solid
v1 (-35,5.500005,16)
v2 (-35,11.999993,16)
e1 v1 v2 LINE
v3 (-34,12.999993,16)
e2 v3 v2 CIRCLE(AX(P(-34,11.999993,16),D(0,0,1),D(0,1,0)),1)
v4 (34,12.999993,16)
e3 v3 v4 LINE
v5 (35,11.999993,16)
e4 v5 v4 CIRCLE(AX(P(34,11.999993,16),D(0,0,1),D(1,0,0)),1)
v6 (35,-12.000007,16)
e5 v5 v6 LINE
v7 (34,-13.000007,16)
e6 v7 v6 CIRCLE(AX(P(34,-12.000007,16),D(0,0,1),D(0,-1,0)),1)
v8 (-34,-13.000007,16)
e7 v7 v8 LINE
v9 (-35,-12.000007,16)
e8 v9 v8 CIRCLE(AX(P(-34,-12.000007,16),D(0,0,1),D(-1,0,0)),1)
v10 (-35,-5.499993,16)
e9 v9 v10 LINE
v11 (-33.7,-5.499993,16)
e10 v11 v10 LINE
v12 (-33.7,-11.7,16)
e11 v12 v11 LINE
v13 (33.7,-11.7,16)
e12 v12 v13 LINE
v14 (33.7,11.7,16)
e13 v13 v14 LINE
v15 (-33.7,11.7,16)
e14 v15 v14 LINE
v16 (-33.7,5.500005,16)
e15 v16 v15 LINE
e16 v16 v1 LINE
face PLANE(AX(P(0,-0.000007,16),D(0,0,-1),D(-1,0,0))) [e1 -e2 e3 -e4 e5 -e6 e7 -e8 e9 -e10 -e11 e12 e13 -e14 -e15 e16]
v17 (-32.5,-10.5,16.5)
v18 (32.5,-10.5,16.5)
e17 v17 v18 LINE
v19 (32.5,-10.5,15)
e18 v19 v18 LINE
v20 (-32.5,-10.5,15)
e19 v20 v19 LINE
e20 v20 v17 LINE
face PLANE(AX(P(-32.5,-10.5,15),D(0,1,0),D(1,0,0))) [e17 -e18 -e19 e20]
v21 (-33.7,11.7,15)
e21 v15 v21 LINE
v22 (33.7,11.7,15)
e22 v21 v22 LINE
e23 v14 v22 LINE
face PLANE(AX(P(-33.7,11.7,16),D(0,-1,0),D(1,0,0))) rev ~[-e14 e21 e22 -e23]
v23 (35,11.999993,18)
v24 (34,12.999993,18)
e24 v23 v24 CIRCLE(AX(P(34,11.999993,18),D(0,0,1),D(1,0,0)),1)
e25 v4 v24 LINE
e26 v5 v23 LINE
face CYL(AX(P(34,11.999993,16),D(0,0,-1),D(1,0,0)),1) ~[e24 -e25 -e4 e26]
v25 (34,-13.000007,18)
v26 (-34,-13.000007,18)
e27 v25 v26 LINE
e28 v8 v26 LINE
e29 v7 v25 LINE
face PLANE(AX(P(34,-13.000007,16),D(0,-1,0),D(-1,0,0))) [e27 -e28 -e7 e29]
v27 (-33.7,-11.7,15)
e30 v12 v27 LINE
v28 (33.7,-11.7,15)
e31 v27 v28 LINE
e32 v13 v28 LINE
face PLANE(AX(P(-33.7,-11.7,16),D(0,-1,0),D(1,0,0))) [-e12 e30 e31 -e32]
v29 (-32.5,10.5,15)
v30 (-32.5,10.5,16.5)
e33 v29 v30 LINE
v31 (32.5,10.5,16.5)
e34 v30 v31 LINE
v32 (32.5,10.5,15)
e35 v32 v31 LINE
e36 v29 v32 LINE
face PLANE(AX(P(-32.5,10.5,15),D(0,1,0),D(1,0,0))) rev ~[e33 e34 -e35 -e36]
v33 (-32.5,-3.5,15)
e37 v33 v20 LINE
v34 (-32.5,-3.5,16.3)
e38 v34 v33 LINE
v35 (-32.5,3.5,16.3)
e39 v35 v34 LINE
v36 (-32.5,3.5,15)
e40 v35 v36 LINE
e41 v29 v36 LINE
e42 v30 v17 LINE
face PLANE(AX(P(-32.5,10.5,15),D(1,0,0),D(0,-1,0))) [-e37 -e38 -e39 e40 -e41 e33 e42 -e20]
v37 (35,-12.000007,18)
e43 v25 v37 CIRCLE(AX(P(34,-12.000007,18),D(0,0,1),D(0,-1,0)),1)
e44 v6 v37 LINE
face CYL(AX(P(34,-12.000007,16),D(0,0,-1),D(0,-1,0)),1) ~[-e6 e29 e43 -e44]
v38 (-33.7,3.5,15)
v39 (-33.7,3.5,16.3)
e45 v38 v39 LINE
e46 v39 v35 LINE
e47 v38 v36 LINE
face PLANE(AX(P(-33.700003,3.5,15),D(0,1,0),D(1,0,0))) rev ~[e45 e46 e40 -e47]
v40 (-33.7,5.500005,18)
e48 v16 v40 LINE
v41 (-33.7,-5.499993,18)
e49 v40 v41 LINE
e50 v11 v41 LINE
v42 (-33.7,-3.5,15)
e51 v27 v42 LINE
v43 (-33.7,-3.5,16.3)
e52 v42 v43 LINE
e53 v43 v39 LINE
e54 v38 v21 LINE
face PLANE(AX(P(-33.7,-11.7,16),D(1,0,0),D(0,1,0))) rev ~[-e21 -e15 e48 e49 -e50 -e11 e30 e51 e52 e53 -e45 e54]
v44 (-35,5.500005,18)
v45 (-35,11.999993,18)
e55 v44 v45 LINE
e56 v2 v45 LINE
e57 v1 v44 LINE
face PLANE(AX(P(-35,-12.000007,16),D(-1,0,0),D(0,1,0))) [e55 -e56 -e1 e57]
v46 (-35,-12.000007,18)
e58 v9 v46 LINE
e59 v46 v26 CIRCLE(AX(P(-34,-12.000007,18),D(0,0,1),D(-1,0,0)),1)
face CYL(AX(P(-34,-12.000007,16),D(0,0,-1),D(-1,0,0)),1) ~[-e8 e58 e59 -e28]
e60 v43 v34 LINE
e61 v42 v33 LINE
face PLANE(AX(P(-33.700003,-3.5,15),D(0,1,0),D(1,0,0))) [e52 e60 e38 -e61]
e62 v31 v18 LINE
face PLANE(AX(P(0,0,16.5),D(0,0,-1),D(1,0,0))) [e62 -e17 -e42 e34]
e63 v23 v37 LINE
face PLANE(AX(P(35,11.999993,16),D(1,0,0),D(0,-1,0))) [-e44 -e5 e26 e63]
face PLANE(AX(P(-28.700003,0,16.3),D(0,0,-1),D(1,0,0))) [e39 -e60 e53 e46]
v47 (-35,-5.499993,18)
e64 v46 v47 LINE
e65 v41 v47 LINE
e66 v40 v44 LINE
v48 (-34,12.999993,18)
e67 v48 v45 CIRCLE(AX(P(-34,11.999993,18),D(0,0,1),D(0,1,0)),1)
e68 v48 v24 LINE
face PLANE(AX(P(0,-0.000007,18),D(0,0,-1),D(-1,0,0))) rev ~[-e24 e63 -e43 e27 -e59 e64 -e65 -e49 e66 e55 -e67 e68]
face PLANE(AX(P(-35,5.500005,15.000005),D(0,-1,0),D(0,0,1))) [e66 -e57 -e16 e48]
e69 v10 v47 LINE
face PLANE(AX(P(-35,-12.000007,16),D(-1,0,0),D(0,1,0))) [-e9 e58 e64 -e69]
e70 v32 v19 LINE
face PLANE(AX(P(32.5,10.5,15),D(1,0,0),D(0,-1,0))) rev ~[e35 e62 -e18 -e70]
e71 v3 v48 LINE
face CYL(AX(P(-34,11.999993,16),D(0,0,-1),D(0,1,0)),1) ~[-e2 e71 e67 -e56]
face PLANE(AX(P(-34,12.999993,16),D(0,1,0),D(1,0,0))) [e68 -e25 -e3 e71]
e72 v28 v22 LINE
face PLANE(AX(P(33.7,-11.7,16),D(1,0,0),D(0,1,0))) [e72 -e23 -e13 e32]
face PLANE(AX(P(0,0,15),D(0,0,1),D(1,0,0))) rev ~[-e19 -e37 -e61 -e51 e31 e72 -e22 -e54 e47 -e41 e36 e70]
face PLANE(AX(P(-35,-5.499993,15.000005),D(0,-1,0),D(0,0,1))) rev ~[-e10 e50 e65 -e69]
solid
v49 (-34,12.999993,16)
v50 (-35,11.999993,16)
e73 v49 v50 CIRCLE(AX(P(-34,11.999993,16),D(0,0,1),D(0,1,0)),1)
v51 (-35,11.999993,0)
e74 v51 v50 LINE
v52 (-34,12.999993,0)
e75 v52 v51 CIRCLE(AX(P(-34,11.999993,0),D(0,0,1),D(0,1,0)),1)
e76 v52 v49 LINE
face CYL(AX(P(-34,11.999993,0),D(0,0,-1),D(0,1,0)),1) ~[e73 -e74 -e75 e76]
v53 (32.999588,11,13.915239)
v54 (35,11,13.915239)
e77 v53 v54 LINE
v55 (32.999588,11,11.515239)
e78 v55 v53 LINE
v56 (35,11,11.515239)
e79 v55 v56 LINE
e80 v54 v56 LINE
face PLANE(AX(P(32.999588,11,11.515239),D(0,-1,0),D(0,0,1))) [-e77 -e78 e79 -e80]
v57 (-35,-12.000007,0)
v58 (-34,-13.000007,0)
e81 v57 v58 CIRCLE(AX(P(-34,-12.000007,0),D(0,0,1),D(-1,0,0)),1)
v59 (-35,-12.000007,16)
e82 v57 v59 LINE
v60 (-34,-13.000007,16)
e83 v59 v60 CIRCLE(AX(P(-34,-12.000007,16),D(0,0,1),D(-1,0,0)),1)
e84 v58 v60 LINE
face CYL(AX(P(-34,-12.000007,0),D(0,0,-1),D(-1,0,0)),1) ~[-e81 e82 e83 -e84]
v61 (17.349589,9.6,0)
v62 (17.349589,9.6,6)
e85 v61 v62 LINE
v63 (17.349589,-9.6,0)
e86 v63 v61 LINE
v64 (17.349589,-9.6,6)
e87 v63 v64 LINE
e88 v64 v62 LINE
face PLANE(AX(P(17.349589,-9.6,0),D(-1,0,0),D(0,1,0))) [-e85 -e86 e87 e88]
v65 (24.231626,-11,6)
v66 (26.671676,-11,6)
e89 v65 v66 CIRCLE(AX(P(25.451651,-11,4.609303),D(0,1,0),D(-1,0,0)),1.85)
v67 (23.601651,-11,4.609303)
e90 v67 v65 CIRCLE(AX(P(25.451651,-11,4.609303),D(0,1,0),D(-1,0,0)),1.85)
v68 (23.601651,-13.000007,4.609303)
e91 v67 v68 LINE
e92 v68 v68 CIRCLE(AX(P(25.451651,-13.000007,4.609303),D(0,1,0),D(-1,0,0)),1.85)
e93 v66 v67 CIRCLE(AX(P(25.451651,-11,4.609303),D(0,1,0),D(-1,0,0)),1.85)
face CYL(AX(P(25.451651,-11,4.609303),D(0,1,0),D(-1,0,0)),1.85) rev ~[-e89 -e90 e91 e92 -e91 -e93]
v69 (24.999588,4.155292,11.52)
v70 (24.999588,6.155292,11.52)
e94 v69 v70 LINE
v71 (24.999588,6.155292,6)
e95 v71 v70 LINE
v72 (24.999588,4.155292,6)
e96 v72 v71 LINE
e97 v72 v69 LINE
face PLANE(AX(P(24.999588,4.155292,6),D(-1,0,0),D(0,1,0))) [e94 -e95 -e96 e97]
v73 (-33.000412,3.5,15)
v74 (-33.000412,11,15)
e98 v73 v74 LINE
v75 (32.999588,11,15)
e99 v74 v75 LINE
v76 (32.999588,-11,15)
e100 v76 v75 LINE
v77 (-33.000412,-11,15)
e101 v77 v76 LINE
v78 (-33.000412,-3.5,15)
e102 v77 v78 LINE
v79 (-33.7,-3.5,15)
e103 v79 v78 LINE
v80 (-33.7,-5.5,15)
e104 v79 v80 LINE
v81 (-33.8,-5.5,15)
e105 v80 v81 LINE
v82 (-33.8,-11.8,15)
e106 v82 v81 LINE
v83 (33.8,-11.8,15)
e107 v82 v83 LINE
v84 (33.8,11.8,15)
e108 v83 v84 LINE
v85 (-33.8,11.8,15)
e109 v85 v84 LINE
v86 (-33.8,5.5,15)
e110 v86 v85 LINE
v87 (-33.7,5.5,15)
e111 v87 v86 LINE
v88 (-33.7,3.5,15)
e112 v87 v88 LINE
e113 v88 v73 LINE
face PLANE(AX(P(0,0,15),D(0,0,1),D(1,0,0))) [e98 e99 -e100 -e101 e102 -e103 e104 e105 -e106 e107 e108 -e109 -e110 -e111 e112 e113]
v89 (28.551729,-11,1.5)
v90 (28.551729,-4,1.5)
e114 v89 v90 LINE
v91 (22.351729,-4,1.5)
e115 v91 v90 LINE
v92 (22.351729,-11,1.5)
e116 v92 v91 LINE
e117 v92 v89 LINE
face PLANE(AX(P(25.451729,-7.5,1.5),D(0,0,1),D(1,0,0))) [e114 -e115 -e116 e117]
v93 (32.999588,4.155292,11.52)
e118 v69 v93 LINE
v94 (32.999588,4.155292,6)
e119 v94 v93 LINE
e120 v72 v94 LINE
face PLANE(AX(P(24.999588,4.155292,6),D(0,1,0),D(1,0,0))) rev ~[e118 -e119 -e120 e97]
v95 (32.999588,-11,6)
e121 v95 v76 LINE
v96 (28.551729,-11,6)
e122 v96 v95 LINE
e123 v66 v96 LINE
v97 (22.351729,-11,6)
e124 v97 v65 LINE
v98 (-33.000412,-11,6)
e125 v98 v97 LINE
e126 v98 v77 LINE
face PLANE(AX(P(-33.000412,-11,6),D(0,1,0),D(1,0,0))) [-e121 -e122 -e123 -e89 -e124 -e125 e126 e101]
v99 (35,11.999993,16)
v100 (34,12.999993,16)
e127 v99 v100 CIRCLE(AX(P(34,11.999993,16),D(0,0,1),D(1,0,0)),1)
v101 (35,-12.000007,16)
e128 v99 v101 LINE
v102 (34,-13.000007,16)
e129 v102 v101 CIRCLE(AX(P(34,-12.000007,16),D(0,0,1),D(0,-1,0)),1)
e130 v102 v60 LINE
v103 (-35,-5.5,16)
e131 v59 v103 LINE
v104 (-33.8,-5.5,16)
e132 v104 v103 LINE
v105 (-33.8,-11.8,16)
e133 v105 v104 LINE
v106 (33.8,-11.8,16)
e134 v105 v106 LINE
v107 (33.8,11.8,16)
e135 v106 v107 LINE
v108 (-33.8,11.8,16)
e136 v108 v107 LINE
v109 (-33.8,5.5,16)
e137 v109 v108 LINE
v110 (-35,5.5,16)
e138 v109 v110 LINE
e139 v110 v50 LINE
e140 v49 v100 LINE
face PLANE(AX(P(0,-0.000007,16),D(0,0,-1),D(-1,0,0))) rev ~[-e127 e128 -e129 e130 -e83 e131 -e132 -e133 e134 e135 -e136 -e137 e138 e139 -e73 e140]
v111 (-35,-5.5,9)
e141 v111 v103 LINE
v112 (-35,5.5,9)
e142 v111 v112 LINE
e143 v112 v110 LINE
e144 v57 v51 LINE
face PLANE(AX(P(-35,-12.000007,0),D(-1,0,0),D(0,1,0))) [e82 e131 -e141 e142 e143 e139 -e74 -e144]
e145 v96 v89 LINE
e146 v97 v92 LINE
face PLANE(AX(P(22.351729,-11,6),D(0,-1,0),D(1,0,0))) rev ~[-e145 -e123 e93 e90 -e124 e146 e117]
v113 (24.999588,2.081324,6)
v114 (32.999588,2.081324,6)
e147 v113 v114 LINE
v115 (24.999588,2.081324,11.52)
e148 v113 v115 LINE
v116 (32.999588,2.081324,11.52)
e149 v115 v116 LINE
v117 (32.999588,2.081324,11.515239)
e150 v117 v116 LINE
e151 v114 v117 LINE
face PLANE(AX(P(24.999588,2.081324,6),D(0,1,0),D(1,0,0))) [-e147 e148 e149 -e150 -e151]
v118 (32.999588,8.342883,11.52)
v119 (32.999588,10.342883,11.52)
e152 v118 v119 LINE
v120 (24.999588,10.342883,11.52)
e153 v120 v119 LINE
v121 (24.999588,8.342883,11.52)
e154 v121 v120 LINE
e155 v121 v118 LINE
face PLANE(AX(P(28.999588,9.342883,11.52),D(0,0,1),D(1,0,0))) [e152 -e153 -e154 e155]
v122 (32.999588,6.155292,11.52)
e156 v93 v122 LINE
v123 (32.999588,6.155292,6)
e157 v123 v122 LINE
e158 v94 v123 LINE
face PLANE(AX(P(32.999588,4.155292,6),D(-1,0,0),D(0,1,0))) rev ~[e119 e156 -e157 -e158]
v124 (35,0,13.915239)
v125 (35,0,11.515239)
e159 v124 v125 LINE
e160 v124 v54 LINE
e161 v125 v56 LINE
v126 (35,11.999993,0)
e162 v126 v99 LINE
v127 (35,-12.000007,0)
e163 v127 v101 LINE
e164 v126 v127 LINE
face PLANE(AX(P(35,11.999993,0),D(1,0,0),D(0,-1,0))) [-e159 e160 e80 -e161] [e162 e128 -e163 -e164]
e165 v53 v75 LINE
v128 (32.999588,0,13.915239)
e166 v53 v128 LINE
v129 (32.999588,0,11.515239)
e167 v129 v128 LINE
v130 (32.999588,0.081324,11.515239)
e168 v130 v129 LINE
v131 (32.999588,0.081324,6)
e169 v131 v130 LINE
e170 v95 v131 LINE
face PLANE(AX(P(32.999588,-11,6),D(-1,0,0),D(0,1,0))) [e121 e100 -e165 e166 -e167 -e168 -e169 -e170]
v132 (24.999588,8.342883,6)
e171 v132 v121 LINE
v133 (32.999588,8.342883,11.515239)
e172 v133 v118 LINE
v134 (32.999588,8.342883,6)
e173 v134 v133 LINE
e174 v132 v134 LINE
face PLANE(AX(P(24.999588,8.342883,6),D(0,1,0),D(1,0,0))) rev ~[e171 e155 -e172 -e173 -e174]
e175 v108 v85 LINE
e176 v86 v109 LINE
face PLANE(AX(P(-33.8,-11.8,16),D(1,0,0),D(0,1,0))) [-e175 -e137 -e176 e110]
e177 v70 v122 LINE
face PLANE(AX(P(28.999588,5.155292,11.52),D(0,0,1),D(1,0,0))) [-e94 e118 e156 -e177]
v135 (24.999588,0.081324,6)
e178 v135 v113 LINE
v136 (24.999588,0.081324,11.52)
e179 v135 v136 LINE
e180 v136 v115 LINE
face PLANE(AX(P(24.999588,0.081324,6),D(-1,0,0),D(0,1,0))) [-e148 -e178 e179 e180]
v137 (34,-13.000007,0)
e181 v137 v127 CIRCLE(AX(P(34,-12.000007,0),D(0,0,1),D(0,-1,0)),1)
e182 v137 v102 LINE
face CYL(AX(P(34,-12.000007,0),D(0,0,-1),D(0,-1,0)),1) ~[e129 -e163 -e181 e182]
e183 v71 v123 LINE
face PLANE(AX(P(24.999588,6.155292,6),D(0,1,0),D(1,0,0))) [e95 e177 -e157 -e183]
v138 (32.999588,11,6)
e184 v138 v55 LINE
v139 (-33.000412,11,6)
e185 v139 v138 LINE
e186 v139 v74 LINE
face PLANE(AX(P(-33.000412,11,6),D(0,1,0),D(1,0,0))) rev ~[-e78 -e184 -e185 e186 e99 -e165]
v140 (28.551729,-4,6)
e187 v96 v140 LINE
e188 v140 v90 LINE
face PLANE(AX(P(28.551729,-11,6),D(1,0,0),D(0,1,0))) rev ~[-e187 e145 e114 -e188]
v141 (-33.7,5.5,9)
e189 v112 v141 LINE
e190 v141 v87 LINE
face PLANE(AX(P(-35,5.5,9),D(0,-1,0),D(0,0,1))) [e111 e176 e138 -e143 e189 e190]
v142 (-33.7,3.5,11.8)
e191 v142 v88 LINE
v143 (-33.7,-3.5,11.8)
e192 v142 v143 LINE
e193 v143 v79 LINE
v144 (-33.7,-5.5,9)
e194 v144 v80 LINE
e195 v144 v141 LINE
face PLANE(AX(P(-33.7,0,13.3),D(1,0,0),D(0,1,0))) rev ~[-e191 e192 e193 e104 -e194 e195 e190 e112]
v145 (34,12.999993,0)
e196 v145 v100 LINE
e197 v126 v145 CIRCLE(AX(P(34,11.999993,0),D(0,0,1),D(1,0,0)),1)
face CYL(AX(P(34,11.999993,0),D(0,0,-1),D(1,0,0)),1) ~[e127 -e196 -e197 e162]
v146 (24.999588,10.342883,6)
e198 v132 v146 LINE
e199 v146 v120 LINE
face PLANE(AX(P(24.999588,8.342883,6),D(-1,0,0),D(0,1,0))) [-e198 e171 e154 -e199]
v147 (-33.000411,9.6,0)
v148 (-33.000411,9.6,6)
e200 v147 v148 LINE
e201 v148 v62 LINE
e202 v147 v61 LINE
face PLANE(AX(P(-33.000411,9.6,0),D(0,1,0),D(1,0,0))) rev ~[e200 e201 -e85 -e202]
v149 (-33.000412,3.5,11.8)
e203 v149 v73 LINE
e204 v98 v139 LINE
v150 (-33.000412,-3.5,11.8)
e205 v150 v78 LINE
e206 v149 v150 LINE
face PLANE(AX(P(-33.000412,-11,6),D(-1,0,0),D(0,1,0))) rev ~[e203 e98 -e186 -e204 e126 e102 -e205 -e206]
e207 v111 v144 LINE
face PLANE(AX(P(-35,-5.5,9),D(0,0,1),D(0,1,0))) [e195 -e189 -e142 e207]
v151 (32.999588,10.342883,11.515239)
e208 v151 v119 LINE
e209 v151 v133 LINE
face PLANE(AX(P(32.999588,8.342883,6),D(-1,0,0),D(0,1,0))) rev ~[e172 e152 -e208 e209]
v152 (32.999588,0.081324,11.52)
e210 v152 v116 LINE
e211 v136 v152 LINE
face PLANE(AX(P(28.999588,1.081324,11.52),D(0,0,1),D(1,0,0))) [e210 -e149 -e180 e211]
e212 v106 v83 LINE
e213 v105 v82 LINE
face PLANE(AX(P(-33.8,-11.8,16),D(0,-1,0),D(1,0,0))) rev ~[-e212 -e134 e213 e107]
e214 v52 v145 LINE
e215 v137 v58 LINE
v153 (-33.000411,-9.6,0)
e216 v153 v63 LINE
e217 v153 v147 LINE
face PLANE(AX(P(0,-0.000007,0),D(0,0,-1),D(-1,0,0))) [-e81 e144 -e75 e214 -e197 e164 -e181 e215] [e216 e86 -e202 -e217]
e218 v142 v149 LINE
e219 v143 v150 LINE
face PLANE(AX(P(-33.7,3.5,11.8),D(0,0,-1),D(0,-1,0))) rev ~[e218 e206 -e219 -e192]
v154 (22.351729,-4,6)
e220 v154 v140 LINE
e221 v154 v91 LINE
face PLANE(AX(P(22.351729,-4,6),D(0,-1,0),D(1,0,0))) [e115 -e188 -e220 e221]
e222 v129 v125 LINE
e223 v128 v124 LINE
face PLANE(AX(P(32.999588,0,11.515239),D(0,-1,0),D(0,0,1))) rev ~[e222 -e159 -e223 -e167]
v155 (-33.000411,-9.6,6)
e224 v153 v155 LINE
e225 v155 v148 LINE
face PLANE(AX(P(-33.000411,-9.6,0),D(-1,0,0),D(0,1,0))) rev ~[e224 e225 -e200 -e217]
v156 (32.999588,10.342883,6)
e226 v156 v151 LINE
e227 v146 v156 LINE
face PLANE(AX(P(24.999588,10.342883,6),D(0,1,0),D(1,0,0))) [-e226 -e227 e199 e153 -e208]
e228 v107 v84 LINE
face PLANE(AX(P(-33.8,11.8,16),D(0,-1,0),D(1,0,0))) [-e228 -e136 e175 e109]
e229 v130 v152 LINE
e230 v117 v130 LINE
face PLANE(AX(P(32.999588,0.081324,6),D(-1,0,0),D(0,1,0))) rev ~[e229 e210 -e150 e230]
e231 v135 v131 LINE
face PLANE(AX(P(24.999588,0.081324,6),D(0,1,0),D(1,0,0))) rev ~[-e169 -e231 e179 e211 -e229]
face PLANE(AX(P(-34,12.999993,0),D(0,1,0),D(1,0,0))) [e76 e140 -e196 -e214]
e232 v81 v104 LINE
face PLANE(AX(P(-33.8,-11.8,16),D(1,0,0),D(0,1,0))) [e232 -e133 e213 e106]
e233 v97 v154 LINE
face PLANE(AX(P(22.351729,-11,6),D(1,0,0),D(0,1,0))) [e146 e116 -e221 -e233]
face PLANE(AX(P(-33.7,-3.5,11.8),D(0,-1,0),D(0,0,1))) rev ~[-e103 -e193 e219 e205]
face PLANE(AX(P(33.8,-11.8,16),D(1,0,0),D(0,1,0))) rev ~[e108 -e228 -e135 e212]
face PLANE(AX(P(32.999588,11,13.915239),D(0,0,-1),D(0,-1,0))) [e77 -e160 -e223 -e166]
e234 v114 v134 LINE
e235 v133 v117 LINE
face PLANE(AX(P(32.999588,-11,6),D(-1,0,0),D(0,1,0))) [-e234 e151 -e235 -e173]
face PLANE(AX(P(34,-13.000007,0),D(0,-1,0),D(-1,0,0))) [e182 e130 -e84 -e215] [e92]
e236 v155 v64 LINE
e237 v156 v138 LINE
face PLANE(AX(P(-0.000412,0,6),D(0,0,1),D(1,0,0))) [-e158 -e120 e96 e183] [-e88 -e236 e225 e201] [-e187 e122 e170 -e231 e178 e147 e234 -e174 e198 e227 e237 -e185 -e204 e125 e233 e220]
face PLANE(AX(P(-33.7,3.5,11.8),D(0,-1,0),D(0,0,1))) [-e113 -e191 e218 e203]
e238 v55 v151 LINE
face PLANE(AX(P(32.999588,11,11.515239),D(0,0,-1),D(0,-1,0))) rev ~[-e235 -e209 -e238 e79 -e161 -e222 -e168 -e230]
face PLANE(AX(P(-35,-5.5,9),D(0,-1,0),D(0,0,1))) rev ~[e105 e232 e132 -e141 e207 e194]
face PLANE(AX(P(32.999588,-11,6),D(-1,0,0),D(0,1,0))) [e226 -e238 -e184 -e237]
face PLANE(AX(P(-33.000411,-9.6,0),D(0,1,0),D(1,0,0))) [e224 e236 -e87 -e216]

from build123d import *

# Parameters (mm, degrees)
PAD_DEPTH       = 16
SKETCH001_W     = 66
SKETCH001_H     = 22
POCKET_DEPTH    = 9
SKETCH002_W     = 50.35
SKETCH002_H     = 19.2
POCKET001_DEPTH = 6
SKETCH003_W     = 11
SKETCH003_H     = 8.6
POCKET002_DEPTH = 1.3
SKETCH004_W     = 7
SKETCH004_H     = 3.2
POCKET003_DEPTH = 1
SKETCH007_W     = 67.6
SKETCH007_H     = 23.6
POCKET004_DEPTH = 1
SKETCH011_W     = 6.2
SKETCH011_H     = 7
POCKET008_DEPTH = 4.5
SKETCH012_R     = 1.85
POCKET009_DEPTH = 2.1
SKETCH013_W     = 11
SKETCH013_H     = 2.4
POCKET010_DEPTH = 2.1
SKETCH014_W     = 8
SKETCH014_H     = 2
PAD003_DEPTH    = 5.52
PAD001_DEPTH    = 2
SKETCH006_W     = 67.4
SKETCH006_H     = 23.4
PAD002_DEPTH    = 1
SKETCH008_W     = 10.999998
SKETCH008_H     = 3.000001
POCKET005_DEPTH = 1.3
SKETCH009_W     = 10
SKETCH009_H     = 7
POCKET006_DEPTH = 1.3
SKETCH010_W     = 65
SKETCH010_H     = 21
POCKET007_DEPTH = 1.5


with BuildPart() as body:
    # Sketch → Pad (new body)
    with BuildSketch(Plane.XY):
        with BuildLine():
            Line((-33.9999998076, 12.9999934698), (34.0000001924, 12.9999934698))
            ThreePointArc((35.0000001924, 11.9999934698), (34.7071069735, 12.707100251), (34.0000001924, 12.9999934698))
            Line((35.0000001924, 11.9999934698), (35.0000001924, -12.0000065302))
            ThreePointArc((34.0000001924, -13.0000065302), (34.7071069735, -12.7071133114), (35.0000001924, -12.0000065302))
            Line((34.0000001924, -13.0000065302), (-33.9999998076, -13.0000065302))
            ThreePointArc((-34.9999998076, -12.0000065302), (-34.7071065888, -12.7071133114), (-33.9999998076, -13.0000065302))
            Line((-34.9999998076, -12.0000065302), (-34.9999998076, 11.9999934698))
            ThreePointArc((-33.9999998076, 12.9999934698), (-34.7071065888, 12.707100251), (-34.9999998076, 11.9999934698))
        make_face()
    extrude(amount=PAD_DEPTH)

    # Sketch001 → Pocket (cut)
    with BuildSketch(Plane.XY.offset(6)):
        with Locations((-0.000412, 0)):
            Rectangle(SKETCH001_W, SKETCH001_H)
    extrude(amount=POCKET_DEPTH, mode=Mode.SUBTRACT)

    # Sketch002 → Pocket001 (cut)
    with BuildSketch(Plane.XY):
        with Locations((-7.8254111247, 2.875e-07)):
            Rectangle(SKETCH002_W, SKETCH002_H)
    extrude(amount=POCKET001_DEPTH, mode=Mode.SUBTRACT)

    # Sketch003 → Pocket002 (cut)
    with BuildSketch(Plane.YZ.offset(-35)):
        with Locations((-3.237e-07, 13.3)):
            Rectangle(SKETCH003_W, SKETCH003_H)
    extrude(amount=POCKET002_DEPTH, mode=Mode.SUBTRACT)

    # Sketch004 → Pocket003 (cut)
    with BuildSketch(Plane(origin=(-33.7, 0, 0), x_dir=(0, -1, 0), z_dir=(-1, 0, 0))):
        with Locations((2.875e-07, 13.4)):
            Rectangle(SKETCH004_W, SKETCH004_H)
    extrude(amount=-POCKET003_DEPTH, mode=Mode.SUBTRACT)

    # Sketch007 (on Face5 of Pocket003) → Pocket004 (cut)
    with BuildSketch(Plane.XY.offset(16)):
        with Locations((4.937e-07, 5.063e-07)):
            Rectangle(SKETCH007_W, SKETCH007_H)
    extrude(amount=-POCKET004_DEPTH, mode=Mode.SUBTRACT)

    # Sketch011 (on Face23 of Pocket004) → Pocket008 (cut)
    with BuildSketch(Plane.XY.offset(6)):
        with Locations((25.451729103, -7.5000004246)):
            Rectangle(SKETCH011_W, SKETCH011_H)
    extrude(amount=-POCKET008_DEPTH, mode=Mode.SUBTRACT)

    # Sketch012 (on Face36 of Pocket008) → Pocket009 (cut)
    with BuildSketch(Plane(origin=(0, -11.0000004246, 0), x_dir=(-1, 0, 0), z_dir=(0, 1, 0))):
        with Locations((-25.451651, 4.609303)):
            Circle(SKETCH012_R)
    extrude(amount=-POCKET009_DEPTH, mode=Mode.SUBTRACT)

    # Sketch013 (on Face30 of Pocket009) → Pocket010 (cut)
    with BuildSketch(Plane(origin=(32.999588, 0, 0), x_dir=(0, -1, 0), z_dir=(-1, 0, 0))):
        with Locations((-5.4999997125, 12.7152388155)):
            Rectangle(SKETCH013_W, SKETCH013_H)
    extrude(amount=-POCKET010_DEPTH, mode=Mode.SUBTRACT)

    # Sketch014 (on Face28 of Pocket010) → Pad003 (join)
    with BuildSketch(Plane.XY.offset(6)):
        with Locations((28.9995880772, 9.3428830657)):
            Rectangle(SKETCH014_W, SKETCH014_H)
        with Locations((28.999588, 1.0813236831)):
            Rectangle(SKETCH014_W, SKETCH014_H)
        with Locations((28.999587609, 5.1552923249)):
            Rectangle(SKETCH014_W, SKETCH014_H)
    extrude(amount=PAD003_DEPTH)


with BuildPart() as cap:
    # Sketch005 → Pad001 (new body)
    with BuildSketch(Plane.XY.offset(16)):
        with BuildLine():
            Line((-34.0000002031, 12.9999934769), (33.9999997969, 12.9999934769))
            ThreePointArc((34.9999997969, 11.9999934769), (34.7071065781, 12.7071002581), (33.9999997969, 12.9999934769))
            Line((34.9999997969, 11.9999934769), (34.9999997969, -12.0000065231))
            ThreePointArc((33.9999997969, -13.0000065231), (34.7071065781, -12.7071133043), (34.9999997969, -12.0000065231))
            Line((33.9999997969, -13.0000065231), (-34.0000002031, -13.0000065231))
            ThreePointArc((-35.0000002031, -12.0000065231), (-34.7071069843, -12.7071133043), (-34.0000002031, -13.0000065231))
            Line((-35.0000002031, -12.0000065231), (-35.0000002031, 11.9999934769))
            ThreePointArc((-34.0000002031, 12.9999934769), (-34.7071069843, 12.7071002581), (-35.0000002031, 11.9999934769))
        make_face()
    extrude(amount=PAD001_DEPTH)

    # Sketch006 → Pad002 (join)
    with BuildSketch(Plane.XY.offset(16)):
        with Locations((-2.17e-08, 1.7722e-06)):
            Rectangle(SKETCH006_W, SKETCH006_H)
    extrude(amount=-PAD002_DEPTH)

    # Sketch008 → Pocket005 (cut)
    with BuildSketch(Plane.YZ.offset(-35)):
        with Locations((6e-06, 16.5000055)):
            Rectangle(SKETCH008_W, SKETCH008_H)
    extrude(amount=POCKET005_DEPTH, mode=Mode.SUBTRACT)

    # Sketch009 (on Face20 of Pocket005) → Pocket006 (cut)
    with BuildSketch(Plane(origin=(0, 0, 15), x_dir=(1, 0, 0), z_dir=(0, 0, -1))):
        with Locations((-28.7000033219, 1.031e-07)):
            Rectangle(SKETCH009_W, SKETCH009_H)
    extrude(amount=-POCKET006_DEPTH, mode=Mode.SUBTRACT)

    # Sketch010 (on Face22 of Pocket006) → Pocket007 (cut)
    with BuildSketch(Plane(origin=(0, 0, 15), x_dir=(1, 0, 0), z_dir=(0, 0, -1))):
        with Locations((-4.249e-07, -2.875e-07)):
            Rectangle(SKETCH010_W, SKETCH010_H)
    extrude(amount=-POCKET007_DEPTH, mode=Mode.SUBTRACT)


solid = Compound([body.part, cap.part])
